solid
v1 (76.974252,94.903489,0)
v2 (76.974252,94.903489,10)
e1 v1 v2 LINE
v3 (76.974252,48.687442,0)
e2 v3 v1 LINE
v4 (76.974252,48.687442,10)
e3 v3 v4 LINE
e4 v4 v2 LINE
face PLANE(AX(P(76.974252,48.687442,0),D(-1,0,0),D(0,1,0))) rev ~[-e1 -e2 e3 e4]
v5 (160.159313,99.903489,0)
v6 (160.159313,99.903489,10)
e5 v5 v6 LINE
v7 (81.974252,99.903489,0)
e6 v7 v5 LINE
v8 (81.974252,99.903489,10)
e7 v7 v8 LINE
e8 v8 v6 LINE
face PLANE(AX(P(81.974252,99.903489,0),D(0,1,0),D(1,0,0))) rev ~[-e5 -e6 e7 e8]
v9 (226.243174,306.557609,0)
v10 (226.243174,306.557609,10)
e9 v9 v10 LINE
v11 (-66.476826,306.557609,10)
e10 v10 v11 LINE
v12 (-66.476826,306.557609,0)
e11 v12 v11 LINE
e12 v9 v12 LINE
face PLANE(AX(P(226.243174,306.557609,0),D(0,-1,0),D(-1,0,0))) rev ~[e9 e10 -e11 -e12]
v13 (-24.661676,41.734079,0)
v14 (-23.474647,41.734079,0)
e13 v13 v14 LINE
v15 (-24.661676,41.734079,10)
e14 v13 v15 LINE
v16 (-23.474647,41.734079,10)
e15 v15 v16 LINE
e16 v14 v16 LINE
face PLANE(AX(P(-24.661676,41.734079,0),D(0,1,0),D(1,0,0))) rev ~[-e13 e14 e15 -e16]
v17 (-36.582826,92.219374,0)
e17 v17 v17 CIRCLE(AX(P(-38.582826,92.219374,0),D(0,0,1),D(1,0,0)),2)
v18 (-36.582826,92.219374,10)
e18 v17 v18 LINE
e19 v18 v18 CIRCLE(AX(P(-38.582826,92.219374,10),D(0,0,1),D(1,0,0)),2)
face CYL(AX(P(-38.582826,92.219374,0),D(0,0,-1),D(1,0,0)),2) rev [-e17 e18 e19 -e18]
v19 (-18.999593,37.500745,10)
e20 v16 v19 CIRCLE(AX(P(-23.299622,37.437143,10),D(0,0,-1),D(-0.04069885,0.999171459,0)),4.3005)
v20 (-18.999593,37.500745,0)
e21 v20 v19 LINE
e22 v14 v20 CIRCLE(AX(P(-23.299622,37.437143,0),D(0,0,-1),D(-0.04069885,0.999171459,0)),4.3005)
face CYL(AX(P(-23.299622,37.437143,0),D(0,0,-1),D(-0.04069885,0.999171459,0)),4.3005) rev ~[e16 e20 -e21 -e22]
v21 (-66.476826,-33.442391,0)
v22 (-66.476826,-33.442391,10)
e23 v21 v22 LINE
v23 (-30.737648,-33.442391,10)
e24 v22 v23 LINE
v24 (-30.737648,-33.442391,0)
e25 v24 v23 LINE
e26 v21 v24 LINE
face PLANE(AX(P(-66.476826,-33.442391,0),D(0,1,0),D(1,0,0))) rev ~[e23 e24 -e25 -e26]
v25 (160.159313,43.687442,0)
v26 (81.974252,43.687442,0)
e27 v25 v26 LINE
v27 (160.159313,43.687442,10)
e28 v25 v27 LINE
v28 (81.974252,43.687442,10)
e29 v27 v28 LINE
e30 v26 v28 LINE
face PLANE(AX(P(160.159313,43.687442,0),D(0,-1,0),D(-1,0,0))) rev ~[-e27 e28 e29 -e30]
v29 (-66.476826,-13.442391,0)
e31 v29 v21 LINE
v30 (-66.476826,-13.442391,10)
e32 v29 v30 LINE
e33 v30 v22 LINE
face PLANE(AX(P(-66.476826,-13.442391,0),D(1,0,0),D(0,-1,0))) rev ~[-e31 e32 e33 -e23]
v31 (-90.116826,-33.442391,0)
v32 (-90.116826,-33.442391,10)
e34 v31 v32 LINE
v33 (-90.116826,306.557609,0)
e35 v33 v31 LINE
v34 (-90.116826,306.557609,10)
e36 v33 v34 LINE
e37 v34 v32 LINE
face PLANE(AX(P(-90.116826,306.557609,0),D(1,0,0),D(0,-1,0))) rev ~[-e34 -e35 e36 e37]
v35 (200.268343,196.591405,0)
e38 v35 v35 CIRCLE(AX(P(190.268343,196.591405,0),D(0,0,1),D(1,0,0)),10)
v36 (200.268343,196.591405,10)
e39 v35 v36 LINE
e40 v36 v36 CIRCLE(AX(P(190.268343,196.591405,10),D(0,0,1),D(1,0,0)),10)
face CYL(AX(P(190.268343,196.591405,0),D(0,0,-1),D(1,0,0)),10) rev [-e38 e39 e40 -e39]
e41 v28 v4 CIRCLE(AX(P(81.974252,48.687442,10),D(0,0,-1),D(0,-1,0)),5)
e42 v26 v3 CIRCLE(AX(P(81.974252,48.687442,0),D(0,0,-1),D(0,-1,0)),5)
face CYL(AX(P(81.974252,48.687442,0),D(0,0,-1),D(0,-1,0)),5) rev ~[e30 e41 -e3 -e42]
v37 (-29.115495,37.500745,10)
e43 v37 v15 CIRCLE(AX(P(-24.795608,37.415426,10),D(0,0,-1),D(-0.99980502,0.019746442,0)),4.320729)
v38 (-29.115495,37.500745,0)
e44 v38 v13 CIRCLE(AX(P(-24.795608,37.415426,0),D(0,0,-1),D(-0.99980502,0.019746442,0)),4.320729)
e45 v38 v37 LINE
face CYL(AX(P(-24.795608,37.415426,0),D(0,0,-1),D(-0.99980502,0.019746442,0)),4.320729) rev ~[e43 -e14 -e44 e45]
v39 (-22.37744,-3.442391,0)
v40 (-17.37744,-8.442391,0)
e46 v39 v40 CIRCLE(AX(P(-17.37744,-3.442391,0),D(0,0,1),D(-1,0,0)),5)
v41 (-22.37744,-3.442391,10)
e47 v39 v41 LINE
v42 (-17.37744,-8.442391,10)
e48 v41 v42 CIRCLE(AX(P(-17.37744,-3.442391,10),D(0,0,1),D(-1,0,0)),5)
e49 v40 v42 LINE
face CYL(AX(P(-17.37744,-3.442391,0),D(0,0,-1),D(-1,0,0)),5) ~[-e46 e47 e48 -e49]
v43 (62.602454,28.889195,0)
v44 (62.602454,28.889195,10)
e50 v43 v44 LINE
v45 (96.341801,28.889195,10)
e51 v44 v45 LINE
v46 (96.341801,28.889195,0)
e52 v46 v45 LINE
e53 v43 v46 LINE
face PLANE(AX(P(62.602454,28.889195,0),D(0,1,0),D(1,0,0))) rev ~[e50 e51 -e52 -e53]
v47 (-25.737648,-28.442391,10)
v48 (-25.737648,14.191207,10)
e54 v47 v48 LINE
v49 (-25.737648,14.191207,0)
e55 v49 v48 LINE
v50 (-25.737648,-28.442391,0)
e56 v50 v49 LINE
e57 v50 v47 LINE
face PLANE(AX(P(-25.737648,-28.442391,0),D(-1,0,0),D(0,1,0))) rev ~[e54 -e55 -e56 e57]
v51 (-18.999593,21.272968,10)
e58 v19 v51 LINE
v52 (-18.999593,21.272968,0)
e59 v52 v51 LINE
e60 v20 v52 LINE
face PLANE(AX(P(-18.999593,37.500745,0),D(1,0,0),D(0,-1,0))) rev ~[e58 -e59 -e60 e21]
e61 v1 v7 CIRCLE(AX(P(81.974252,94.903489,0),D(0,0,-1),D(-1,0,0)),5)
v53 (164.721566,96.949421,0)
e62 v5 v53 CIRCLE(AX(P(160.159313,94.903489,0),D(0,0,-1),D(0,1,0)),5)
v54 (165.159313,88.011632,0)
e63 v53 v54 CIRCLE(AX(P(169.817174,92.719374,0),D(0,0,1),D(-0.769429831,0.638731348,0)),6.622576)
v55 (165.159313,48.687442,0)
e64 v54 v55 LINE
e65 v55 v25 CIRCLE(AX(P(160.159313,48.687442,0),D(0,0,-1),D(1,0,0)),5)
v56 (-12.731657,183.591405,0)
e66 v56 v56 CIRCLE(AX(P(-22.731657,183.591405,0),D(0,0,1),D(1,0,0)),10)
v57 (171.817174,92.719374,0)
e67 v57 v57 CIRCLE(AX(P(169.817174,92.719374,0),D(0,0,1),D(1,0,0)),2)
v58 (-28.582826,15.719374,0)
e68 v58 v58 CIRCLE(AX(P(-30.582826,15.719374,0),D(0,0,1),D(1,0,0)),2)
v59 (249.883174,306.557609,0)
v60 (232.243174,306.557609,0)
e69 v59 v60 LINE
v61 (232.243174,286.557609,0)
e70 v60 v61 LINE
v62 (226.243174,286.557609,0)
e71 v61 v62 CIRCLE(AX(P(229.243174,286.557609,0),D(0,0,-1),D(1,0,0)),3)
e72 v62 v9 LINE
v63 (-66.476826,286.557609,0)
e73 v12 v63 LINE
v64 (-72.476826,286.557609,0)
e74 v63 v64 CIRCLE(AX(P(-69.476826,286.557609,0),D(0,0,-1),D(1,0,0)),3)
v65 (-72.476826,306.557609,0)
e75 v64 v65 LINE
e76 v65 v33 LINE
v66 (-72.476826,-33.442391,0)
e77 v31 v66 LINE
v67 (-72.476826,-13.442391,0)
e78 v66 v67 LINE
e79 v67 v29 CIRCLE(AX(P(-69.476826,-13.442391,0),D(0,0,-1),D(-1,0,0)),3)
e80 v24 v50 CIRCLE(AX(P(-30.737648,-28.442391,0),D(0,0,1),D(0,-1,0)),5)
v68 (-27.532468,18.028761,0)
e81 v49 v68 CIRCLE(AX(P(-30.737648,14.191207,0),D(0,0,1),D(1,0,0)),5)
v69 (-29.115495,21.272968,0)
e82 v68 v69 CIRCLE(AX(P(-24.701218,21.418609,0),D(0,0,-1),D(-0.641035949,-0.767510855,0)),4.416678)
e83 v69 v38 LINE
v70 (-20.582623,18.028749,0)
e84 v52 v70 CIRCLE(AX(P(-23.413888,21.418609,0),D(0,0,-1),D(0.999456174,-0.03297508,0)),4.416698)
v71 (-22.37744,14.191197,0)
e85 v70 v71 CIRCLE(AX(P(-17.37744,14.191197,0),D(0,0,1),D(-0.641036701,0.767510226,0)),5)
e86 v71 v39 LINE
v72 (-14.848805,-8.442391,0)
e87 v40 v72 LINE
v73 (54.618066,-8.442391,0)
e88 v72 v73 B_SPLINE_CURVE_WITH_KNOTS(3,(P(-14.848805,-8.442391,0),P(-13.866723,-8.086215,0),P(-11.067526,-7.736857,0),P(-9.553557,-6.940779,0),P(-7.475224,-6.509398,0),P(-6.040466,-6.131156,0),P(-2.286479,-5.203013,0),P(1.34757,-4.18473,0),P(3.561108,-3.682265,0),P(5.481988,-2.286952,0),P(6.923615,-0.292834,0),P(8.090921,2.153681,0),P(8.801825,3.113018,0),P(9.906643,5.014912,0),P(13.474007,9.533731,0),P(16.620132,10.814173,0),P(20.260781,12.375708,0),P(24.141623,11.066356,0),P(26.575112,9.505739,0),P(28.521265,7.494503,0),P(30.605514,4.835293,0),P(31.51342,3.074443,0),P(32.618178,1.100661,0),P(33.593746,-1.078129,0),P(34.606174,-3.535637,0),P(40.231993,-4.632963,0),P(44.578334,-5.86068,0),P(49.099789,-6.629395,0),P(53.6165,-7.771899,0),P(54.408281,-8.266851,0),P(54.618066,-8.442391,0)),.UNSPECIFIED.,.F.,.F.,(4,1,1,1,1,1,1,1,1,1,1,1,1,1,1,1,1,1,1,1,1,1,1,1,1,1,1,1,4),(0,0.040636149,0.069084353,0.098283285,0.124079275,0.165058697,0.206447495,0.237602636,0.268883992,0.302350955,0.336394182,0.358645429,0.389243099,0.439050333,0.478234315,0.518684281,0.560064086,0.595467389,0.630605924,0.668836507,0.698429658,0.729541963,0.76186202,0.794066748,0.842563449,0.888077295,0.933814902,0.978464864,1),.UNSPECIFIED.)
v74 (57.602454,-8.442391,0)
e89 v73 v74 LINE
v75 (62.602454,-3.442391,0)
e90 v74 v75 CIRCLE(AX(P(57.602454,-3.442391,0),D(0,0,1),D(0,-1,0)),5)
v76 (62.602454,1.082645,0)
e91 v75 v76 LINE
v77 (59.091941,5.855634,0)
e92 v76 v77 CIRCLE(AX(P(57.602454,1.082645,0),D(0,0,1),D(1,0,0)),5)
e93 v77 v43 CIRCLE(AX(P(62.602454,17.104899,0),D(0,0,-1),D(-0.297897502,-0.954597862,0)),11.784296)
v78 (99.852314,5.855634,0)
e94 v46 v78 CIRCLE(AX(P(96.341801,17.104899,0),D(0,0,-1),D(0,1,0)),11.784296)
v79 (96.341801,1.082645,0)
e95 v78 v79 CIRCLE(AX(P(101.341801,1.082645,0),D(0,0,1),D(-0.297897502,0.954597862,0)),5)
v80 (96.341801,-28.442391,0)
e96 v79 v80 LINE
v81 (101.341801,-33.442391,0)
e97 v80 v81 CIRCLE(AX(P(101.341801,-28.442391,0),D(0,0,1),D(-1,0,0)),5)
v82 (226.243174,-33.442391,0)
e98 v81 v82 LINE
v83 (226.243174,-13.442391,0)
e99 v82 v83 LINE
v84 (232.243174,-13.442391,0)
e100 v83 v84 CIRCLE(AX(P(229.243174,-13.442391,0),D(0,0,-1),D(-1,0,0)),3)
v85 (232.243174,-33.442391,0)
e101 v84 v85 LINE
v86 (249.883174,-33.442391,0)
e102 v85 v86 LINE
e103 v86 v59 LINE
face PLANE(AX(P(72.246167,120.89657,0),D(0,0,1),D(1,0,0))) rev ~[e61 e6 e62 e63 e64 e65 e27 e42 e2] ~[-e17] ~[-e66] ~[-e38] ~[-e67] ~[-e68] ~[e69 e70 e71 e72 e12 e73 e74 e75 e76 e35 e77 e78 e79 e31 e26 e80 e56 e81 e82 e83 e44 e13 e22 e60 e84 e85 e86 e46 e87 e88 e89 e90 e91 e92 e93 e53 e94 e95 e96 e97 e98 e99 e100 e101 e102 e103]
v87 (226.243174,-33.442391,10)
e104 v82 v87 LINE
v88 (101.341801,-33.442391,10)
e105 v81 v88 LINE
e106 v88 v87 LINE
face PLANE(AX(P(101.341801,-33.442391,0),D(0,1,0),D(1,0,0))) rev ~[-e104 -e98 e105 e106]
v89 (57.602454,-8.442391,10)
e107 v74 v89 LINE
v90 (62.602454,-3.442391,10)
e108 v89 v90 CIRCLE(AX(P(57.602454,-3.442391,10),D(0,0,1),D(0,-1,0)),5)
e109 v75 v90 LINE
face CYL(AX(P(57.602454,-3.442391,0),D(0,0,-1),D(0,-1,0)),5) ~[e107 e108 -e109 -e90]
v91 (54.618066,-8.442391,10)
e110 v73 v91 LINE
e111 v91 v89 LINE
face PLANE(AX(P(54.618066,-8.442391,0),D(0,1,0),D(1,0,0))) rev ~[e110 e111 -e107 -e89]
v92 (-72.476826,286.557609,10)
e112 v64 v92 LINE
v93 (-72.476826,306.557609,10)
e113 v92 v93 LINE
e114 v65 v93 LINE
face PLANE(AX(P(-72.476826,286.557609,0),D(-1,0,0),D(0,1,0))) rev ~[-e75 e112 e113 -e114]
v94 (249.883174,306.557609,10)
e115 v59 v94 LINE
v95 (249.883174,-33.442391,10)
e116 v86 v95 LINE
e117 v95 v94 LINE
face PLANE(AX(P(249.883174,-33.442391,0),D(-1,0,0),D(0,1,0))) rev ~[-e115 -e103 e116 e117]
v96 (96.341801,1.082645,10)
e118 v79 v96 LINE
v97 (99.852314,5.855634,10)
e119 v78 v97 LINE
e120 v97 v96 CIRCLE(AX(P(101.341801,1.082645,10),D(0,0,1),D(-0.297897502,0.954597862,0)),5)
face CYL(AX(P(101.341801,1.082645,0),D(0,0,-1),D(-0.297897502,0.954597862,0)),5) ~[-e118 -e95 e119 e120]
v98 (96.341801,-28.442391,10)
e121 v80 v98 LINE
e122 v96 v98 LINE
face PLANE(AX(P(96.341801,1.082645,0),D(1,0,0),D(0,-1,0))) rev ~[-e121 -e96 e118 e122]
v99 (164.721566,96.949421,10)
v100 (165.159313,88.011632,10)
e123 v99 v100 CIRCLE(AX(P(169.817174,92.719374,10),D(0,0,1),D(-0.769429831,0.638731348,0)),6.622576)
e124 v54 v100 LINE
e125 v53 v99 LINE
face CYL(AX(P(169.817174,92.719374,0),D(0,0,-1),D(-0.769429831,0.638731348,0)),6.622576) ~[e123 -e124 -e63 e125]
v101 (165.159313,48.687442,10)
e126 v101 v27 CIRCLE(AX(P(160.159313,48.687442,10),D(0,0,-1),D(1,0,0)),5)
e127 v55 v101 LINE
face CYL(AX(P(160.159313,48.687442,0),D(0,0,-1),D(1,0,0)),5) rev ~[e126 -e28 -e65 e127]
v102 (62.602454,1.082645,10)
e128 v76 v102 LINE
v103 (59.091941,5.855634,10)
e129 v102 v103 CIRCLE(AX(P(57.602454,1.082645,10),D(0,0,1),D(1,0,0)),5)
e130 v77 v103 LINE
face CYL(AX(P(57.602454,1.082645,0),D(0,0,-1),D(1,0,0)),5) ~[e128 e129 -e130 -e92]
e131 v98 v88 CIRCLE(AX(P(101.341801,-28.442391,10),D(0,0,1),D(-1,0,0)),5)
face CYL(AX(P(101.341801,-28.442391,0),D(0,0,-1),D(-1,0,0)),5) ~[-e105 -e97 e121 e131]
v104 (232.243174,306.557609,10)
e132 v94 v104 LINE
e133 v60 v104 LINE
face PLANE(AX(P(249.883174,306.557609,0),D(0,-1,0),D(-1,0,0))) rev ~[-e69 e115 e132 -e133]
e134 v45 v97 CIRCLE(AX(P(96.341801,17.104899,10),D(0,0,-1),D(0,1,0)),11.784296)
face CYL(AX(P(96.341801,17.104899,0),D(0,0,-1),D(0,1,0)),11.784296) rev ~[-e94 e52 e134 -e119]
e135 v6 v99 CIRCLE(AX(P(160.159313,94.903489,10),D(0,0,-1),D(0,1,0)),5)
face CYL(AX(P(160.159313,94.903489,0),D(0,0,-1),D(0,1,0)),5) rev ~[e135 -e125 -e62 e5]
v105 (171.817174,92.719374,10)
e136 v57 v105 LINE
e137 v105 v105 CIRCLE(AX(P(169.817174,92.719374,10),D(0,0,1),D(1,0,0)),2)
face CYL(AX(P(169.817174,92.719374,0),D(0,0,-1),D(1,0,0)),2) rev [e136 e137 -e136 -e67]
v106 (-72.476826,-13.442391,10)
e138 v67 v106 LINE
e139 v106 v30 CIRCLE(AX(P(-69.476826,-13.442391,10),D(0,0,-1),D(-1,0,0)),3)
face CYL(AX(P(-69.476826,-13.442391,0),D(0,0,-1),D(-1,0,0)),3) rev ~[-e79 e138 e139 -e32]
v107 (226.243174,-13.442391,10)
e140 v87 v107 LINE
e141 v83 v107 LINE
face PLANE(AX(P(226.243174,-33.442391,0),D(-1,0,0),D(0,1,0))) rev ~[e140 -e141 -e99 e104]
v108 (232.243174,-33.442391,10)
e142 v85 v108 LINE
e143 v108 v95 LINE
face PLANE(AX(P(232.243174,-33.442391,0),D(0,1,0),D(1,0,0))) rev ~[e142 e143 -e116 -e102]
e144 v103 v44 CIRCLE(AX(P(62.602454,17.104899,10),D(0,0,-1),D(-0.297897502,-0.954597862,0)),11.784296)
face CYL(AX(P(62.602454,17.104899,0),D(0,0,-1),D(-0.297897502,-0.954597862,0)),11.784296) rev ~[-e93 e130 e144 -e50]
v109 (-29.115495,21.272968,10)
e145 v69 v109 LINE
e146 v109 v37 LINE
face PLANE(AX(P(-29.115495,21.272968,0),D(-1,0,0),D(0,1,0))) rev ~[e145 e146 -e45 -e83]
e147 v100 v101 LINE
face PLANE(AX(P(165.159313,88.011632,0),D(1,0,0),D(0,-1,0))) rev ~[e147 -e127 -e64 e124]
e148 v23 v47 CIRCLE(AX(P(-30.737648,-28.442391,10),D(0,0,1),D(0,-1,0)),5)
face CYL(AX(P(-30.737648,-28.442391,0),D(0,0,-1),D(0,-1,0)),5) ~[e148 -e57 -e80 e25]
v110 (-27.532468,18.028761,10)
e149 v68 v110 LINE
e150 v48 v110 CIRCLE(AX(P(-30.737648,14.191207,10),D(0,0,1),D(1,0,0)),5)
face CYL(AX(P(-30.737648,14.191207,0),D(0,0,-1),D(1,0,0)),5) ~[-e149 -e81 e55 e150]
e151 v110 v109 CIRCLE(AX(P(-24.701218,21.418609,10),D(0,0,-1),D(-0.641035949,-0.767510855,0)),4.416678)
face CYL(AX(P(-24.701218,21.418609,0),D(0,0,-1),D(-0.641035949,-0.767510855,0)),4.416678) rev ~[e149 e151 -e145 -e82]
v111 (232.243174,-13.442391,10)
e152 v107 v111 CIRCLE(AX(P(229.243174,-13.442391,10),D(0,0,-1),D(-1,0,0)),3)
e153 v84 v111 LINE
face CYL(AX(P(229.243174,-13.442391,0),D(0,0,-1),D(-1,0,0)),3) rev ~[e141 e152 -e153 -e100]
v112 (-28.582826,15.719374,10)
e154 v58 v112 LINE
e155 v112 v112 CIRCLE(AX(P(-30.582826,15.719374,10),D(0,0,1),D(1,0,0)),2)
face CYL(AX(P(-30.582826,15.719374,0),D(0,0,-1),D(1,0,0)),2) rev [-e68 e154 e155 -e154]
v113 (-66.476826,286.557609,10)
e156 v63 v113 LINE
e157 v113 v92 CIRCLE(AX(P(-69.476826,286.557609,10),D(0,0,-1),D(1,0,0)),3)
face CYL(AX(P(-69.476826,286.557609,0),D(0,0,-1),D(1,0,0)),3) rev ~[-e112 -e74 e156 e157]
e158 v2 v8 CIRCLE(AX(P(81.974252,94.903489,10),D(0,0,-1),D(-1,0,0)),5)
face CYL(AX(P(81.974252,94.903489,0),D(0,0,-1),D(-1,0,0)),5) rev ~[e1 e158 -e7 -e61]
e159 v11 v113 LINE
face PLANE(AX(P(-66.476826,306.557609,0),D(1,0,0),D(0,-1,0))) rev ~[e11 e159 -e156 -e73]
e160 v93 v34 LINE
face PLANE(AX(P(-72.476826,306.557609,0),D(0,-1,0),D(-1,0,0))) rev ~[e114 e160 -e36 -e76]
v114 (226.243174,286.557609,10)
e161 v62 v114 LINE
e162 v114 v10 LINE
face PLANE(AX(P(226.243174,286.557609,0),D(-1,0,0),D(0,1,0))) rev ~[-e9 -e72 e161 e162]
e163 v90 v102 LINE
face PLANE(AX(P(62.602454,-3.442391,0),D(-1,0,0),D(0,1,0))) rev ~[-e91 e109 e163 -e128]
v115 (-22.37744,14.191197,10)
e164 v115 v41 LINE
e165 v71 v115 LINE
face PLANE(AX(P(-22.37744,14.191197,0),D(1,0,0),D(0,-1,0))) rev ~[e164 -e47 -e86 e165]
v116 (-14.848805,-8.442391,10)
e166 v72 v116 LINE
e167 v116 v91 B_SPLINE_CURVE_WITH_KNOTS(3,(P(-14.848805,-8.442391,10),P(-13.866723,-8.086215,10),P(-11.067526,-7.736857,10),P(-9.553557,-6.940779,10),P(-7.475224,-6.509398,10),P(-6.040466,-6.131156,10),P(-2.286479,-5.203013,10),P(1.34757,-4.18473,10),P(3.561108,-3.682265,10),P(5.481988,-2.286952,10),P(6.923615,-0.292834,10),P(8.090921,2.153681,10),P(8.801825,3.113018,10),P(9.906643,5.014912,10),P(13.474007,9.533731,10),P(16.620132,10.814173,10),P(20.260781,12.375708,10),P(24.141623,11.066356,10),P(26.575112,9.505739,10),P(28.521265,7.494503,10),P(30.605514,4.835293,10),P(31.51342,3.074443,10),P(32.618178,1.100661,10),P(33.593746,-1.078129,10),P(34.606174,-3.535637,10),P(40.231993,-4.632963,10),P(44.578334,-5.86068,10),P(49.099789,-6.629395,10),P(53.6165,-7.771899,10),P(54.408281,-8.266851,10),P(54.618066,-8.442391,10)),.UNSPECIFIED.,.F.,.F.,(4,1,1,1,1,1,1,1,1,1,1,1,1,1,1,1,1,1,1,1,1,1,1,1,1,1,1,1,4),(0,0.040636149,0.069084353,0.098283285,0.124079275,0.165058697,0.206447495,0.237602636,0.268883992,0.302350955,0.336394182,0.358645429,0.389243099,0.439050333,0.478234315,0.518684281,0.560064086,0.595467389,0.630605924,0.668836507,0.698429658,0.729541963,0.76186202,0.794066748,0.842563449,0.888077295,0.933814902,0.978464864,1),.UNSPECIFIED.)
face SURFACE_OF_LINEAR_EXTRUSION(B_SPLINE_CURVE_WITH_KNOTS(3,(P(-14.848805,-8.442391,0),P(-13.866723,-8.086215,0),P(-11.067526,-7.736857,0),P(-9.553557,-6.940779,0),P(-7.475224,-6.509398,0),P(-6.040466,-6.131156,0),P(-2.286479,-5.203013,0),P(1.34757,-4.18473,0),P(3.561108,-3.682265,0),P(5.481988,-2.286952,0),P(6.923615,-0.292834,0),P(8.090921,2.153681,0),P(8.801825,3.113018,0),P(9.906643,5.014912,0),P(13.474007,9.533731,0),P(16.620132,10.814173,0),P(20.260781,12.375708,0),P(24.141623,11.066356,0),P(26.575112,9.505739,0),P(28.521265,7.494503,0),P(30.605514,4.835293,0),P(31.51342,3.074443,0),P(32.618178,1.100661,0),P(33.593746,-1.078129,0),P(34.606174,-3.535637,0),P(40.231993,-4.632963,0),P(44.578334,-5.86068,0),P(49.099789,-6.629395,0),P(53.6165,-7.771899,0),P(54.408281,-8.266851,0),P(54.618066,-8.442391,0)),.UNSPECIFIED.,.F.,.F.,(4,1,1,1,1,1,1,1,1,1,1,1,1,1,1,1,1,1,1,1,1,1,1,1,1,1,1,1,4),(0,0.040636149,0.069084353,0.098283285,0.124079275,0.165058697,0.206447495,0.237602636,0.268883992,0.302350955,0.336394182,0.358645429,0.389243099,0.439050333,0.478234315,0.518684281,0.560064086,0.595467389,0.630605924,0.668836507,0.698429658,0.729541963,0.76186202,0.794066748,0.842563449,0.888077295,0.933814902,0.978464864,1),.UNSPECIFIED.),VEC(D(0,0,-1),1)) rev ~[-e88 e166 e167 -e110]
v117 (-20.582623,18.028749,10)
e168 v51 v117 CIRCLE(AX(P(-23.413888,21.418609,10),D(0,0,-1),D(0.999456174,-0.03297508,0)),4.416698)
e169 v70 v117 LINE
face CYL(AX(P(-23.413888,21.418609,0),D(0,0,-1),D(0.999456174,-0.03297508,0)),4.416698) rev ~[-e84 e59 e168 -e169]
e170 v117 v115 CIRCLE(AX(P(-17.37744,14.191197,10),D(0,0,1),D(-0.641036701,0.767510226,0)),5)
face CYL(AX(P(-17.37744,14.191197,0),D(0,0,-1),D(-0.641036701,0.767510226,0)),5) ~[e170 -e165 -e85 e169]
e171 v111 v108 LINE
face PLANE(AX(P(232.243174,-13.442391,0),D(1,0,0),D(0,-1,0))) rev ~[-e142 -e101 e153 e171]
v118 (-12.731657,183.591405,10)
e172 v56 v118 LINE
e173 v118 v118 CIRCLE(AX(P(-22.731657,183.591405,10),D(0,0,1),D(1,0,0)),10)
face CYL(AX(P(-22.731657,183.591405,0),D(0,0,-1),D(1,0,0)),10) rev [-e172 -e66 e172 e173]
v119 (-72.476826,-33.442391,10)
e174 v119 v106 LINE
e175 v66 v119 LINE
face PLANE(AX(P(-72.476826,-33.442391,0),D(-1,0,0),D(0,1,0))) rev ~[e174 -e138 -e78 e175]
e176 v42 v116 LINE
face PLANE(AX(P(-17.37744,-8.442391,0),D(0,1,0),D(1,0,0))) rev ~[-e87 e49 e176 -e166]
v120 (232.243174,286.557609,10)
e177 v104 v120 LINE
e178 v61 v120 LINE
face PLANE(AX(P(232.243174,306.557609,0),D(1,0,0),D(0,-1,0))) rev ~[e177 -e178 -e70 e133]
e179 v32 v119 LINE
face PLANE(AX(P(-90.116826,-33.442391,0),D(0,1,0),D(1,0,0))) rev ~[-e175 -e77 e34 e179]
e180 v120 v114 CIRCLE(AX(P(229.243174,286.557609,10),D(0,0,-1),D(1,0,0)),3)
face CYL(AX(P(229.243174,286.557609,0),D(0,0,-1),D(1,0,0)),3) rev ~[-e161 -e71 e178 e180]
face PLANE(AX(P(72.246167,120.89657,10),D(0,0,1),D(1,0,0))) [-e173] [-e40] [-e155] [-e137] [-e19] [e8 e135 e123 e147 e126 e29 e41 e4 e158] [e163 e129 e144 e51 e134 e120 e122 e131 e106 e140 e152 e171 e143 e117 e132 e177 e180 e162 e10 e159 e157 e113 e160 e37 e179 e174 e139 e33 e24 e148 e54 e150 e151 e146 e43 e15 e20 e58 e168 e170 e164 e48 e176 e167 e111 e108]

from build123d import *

# Parameters (mm, degrees)
F0_R     = 2
F0_R_2   = 10
F1_DEPTH = 10


with BuildPart() as f1:
    # F0 (on Top) → F1 (new body)
    with BuildSketch(Plane.XY):
        with BuildLine():
            ThreePointArc((59.0919412169, 5.8556343452), (50.9526831397, 18.8804236674), (62.6024537054, 28.8891950556))
            Line((62.6024537054, 28.8891950556), (96.3418013123, 28.8891950556))
            ThreePointArc((96.3418013123, 28.8891950556), (107.991571878, 18.8804236674), (99.8523138008, 5.8556343452))
            ThreePointArc((99.8523138008, 5.8556343452), (97.3139335415, 4.0451239333), (96.3418013123, 1.0826450353))
            Line((96.3418013123, 1.0826450353), (96.3418013123, -3.4423905863))
            Line((96.3418013123, -3.4423905863), (96.3418013123, -28.4423905863))
            ThreePointArc((96.3418013123, -28.4423905863), (97.8062674064, -31.9779244922), (101.3418013123, -33.4423905863))
            Line((101.3418013123, -33.4423905863), (226.2431738165, -33.4423905863))
            Line((226.2431738165, -33.4423905863), (226.2431738165, -13.4423905863))
            ThreePointArc((226.2431738165, -13.4423905863), (229.2431738165, -10.4423905863), (232.2431738165, -13.4423905863))
            Line((232.2431738165, -13.4423905863), (232.2431738165, -33.4423905863))
            Line((232.2431738165, -33.4423905863), (249.8831738165, -33.4423905863))
            Line((249.8831738165, -33.4423905863), (249.8831738165, 306.5576094137))
            Line((249.8831738165, 306.5576094137), (232.2431738165, 306.5576094137))
            Line((232.2431738165, 306.5576094137), (232.2431738165, 286.5576094137))
            ThreePointArc((232.2431738165, 286.5576094137), (229.2431738165, 283.5576094137), (226.2431738165, 286.5576094137))
            Line((226.2431738165, 286.5576094137), (226.2431738165, 306.5576094137))
            Line((226.2431738165, 306.5576094137), (-66.4768261835, 306.5576094137))
            Line((-66.4768261835, 306.5576094137), (-66.4768261835, 286.5576094137))
            ThreePointArc((-66.4768261835, 286.5576094137), (-69.4768261835, 283.5576094137), (-72.4768261835, 286.5576094137))
            Line((-72.4768261835, 286.5576094137), (-72.4768261835, 306.5576094137))
            Line((-72.4768261835, 306.5576094137), (-90.1168261835, 306.5576094137))
            Line((-90.1168261835, 306.5576094137), (-90.1168261835, -33.4423905863))
            Line((-90.1168261835, -33.4423905863), (-72.4768261835, -33.4423905863))
            Line((-72.4768261835, -33.4423905863), (-72.4768261835, -13.4423905863))
            ThreePointArc((-72.4768261835, -13.4423905863), (-69.4768261835, -10.4423905863), (-66.4768261835, -13.4423905863))
            Line((-66.4768261835, -13.4423905863), (-66.4768261835, -33.4423905863))
            Line((-66.4768261835, -33.4423905863), (-30.7376475201, -33.4423905863))
            ThreePointArc((-30.7376475201, -33.4423905863), (-27.2021136142, -31.9779244922), (-25.7376475201, -28.4423905863))
            Line((-25.7376475201, -28.4423905863), (-25.7376475201, -3.4423905863))
            Line((-25.7376475201, -3.4423905863), (-25.7376475201, 14.191206688))
            ThreePointArc((-25.7376475201, 14.191206688), (-26.2085251586, 16.3094726378), (-27.5324677739, 18.0287609605))
            ThreePointArc((-27.5324677739, 18.0287609605), (-28.6705546596, 19.4817524546), (-29.1154945201, 21.2729683997))
            Line((-29.1154945201, 21.2729683997), (-29.1154945201, 37.5007453997))
            ThreePointArc((-29.1154945201, 37.5007453997), (-27.7723228668, 40.5471780201), (-24.6616755201, 41.7340793997))
            Line((-24.6616755201, 41.7340793997), (-23.4746474021, 41.7340793997))
            ThreePointArc((-23.4746474021, 41.7340793997), (-20.3442550444, 40.5612593781), (-18.9995925201, 37.5007453997))
            Line((-18.9995925201, 37.5007453997), (-18.9995925201, 21.2729683997))
            ThreePointArc((-18.9995925201, 21.2729683997), (-19.4445332952, 19.4817460524), (-20.5826230269, 18.0287486149))
            ThreePointArc((-20.5826230269, 18.0287486149), (-21.9065629195, 16.309461214), (-22.3774395201, 14.1911974832))
            Line((-22.3774395201, 14.1911974832), (-22.3774395201, -3.4423905863))
            ThreePointArc((-22.3774395201, -3.4423905863), (-20.9129734261, -6.9779244922), (-17.3774395201, -8.4423905863))
            Line((-17.3774395201, -8.4423905863), (-14.8488045963, -8.4423905863))
            add(Edge.make_bspline(
                [(-14.8488045963, -8.4423905863), (-13.8667230742, -8.0862149232), (-11.0675263436, -7.7368565701), (-9.5535565702, -6.9407787949), (-7.4752239657, -6.5093979511), (-6.0404658852, -6.1311557916), (-2.2864787406, -5.2030128278), (1.3475701923, -4.1847297196), (3.5611082397, -3.6822645324), (5.4819881536, -2.2869521331), (6.9236147383, -0.2928338043), (8.0909212332, 2.1536809326), (8.8018252555, 3.1130183139), (9.9066433173, 5.0149117757), (13.4740067588, 9.5337311578), (16.6201320308, 10.8141732124), (20.2607813027, 12.3757075827), (24.1416225167, 11.0663557699), (26.5751124317, 9.5057386468), (28.5212647481, 7.4945031555), (30.605514445, 4.8352932594), (31.5134198263, 3.0744433993), (32.6181776868, 1.1006609746), (33.5937461444, -1.0781289854), (34.6061736564, -3.5356368183), (40.2319928309, -4.632963348), (44.5783336596, -5.860680116), (49.0997891973, -6.6293952633), (53.6165002005, -7.7718986182), (54.4082808854, -8.2668507233), (54.6180656818, -8.4423905863)],
                knots=[0, 0, 0, 0, 0.0406361494, 0.0690843533, 0.0982832849, 0.1240792745, 0.1650586975, 0.2064474949, 0.237602636, 0.2688839918, 0.3023509551, 0.3363941823, 0.3586454287, 0.3892430987, 0.4390503332, 0.478234315, 0.5186842811, 0.5600640859, 0.5954673894, 0.6306059239, 0.6688365072, 0.6984296576, 0.7295419634, 0.7618620205, 0.7940667479, 0.8425634492, 0.8880772951, 0.9338149024, 0.9784648643, 1, 1, 1, 1], degree=3))
            Line((54.6180656818, -8.4423905863), (57.6024537054, -8.4423905863))
            ThreePointArc((57.6024537054, -8.4423905863), (61.1379876113, -6.9779244922), (62.6024537054, -3.4423905863))
            Line((62.6024537054, -3.4423905863), (62.6024537054, 1.0826450353))
            ThreePointArc((62.6024537054, 1.0826450353), (61.6303214762, 4.0451239333), (59.0919412169, 5.8556343452))
        make_face()
        with Locations((-30.5828261835, 15.7193741869)):
            Circle(F0_R, mode=Mode.SUBTRACT)
        with Locations((-38.5828261835, 92.2193741869)):
            Circle(F0_R, mode=Mode.SUBTRACT)
        with BuildLine():
            ThreePointArc((76.9742517439, 94.9034886555), (78.438717838, 98.4390225614), (81.9742517439, 99.9034886555))
            Line((81.9742517439, 99.9034886555), (160.1593125132, 99.9034886555))
            ThreePointArc((160.1593125132, 99.9034886555), (162.8768793148, 99.1004912382), (164.7215664672, 96.949420927))
            ThreePointArc((164.7215664672, 96.949420927), (163.2025267349, 92.3954086529), (165.1593125132, 88.0116318659))
            Line((165.1593125132, 88.0116318659), (165.1593125132, 48.6874424414))
            ThreePointArc((165.1593125132, 48.6874424414), (163.6948464191, 45.1519085355), (160.1593125132, 43.6874424414))
            Line((160.1593125132, 43.6874424414), (81.9742517439, 43.6874424414))
            ThreePointArc((81.9742517439, 43.6874424414), (78.438717838, 45.1519085355), (76.9742517439, 48.6874424414))
            Line((76.9742517439, 48.6874424414), (76.9742517439, 94.9034886555))
        make_face(mode=Mode.SUBTRACT)
        with Locations((169.8171738165, 92.7193741869)):
            Circle(F0_R, mode=Mode.SUBTRACT)
        with Locations((-22.7316567036, 183.5914050536)):
            Circle(F0_R_2, mode=Mode.SUBTRACT)
        with Locations((190.2683432964, 196.5914050536)):
            Circle(F0_R_2, mode=Mode.SUBTRACT)
    extrude(amount=F1_DEPTH)


solid = f1.part
